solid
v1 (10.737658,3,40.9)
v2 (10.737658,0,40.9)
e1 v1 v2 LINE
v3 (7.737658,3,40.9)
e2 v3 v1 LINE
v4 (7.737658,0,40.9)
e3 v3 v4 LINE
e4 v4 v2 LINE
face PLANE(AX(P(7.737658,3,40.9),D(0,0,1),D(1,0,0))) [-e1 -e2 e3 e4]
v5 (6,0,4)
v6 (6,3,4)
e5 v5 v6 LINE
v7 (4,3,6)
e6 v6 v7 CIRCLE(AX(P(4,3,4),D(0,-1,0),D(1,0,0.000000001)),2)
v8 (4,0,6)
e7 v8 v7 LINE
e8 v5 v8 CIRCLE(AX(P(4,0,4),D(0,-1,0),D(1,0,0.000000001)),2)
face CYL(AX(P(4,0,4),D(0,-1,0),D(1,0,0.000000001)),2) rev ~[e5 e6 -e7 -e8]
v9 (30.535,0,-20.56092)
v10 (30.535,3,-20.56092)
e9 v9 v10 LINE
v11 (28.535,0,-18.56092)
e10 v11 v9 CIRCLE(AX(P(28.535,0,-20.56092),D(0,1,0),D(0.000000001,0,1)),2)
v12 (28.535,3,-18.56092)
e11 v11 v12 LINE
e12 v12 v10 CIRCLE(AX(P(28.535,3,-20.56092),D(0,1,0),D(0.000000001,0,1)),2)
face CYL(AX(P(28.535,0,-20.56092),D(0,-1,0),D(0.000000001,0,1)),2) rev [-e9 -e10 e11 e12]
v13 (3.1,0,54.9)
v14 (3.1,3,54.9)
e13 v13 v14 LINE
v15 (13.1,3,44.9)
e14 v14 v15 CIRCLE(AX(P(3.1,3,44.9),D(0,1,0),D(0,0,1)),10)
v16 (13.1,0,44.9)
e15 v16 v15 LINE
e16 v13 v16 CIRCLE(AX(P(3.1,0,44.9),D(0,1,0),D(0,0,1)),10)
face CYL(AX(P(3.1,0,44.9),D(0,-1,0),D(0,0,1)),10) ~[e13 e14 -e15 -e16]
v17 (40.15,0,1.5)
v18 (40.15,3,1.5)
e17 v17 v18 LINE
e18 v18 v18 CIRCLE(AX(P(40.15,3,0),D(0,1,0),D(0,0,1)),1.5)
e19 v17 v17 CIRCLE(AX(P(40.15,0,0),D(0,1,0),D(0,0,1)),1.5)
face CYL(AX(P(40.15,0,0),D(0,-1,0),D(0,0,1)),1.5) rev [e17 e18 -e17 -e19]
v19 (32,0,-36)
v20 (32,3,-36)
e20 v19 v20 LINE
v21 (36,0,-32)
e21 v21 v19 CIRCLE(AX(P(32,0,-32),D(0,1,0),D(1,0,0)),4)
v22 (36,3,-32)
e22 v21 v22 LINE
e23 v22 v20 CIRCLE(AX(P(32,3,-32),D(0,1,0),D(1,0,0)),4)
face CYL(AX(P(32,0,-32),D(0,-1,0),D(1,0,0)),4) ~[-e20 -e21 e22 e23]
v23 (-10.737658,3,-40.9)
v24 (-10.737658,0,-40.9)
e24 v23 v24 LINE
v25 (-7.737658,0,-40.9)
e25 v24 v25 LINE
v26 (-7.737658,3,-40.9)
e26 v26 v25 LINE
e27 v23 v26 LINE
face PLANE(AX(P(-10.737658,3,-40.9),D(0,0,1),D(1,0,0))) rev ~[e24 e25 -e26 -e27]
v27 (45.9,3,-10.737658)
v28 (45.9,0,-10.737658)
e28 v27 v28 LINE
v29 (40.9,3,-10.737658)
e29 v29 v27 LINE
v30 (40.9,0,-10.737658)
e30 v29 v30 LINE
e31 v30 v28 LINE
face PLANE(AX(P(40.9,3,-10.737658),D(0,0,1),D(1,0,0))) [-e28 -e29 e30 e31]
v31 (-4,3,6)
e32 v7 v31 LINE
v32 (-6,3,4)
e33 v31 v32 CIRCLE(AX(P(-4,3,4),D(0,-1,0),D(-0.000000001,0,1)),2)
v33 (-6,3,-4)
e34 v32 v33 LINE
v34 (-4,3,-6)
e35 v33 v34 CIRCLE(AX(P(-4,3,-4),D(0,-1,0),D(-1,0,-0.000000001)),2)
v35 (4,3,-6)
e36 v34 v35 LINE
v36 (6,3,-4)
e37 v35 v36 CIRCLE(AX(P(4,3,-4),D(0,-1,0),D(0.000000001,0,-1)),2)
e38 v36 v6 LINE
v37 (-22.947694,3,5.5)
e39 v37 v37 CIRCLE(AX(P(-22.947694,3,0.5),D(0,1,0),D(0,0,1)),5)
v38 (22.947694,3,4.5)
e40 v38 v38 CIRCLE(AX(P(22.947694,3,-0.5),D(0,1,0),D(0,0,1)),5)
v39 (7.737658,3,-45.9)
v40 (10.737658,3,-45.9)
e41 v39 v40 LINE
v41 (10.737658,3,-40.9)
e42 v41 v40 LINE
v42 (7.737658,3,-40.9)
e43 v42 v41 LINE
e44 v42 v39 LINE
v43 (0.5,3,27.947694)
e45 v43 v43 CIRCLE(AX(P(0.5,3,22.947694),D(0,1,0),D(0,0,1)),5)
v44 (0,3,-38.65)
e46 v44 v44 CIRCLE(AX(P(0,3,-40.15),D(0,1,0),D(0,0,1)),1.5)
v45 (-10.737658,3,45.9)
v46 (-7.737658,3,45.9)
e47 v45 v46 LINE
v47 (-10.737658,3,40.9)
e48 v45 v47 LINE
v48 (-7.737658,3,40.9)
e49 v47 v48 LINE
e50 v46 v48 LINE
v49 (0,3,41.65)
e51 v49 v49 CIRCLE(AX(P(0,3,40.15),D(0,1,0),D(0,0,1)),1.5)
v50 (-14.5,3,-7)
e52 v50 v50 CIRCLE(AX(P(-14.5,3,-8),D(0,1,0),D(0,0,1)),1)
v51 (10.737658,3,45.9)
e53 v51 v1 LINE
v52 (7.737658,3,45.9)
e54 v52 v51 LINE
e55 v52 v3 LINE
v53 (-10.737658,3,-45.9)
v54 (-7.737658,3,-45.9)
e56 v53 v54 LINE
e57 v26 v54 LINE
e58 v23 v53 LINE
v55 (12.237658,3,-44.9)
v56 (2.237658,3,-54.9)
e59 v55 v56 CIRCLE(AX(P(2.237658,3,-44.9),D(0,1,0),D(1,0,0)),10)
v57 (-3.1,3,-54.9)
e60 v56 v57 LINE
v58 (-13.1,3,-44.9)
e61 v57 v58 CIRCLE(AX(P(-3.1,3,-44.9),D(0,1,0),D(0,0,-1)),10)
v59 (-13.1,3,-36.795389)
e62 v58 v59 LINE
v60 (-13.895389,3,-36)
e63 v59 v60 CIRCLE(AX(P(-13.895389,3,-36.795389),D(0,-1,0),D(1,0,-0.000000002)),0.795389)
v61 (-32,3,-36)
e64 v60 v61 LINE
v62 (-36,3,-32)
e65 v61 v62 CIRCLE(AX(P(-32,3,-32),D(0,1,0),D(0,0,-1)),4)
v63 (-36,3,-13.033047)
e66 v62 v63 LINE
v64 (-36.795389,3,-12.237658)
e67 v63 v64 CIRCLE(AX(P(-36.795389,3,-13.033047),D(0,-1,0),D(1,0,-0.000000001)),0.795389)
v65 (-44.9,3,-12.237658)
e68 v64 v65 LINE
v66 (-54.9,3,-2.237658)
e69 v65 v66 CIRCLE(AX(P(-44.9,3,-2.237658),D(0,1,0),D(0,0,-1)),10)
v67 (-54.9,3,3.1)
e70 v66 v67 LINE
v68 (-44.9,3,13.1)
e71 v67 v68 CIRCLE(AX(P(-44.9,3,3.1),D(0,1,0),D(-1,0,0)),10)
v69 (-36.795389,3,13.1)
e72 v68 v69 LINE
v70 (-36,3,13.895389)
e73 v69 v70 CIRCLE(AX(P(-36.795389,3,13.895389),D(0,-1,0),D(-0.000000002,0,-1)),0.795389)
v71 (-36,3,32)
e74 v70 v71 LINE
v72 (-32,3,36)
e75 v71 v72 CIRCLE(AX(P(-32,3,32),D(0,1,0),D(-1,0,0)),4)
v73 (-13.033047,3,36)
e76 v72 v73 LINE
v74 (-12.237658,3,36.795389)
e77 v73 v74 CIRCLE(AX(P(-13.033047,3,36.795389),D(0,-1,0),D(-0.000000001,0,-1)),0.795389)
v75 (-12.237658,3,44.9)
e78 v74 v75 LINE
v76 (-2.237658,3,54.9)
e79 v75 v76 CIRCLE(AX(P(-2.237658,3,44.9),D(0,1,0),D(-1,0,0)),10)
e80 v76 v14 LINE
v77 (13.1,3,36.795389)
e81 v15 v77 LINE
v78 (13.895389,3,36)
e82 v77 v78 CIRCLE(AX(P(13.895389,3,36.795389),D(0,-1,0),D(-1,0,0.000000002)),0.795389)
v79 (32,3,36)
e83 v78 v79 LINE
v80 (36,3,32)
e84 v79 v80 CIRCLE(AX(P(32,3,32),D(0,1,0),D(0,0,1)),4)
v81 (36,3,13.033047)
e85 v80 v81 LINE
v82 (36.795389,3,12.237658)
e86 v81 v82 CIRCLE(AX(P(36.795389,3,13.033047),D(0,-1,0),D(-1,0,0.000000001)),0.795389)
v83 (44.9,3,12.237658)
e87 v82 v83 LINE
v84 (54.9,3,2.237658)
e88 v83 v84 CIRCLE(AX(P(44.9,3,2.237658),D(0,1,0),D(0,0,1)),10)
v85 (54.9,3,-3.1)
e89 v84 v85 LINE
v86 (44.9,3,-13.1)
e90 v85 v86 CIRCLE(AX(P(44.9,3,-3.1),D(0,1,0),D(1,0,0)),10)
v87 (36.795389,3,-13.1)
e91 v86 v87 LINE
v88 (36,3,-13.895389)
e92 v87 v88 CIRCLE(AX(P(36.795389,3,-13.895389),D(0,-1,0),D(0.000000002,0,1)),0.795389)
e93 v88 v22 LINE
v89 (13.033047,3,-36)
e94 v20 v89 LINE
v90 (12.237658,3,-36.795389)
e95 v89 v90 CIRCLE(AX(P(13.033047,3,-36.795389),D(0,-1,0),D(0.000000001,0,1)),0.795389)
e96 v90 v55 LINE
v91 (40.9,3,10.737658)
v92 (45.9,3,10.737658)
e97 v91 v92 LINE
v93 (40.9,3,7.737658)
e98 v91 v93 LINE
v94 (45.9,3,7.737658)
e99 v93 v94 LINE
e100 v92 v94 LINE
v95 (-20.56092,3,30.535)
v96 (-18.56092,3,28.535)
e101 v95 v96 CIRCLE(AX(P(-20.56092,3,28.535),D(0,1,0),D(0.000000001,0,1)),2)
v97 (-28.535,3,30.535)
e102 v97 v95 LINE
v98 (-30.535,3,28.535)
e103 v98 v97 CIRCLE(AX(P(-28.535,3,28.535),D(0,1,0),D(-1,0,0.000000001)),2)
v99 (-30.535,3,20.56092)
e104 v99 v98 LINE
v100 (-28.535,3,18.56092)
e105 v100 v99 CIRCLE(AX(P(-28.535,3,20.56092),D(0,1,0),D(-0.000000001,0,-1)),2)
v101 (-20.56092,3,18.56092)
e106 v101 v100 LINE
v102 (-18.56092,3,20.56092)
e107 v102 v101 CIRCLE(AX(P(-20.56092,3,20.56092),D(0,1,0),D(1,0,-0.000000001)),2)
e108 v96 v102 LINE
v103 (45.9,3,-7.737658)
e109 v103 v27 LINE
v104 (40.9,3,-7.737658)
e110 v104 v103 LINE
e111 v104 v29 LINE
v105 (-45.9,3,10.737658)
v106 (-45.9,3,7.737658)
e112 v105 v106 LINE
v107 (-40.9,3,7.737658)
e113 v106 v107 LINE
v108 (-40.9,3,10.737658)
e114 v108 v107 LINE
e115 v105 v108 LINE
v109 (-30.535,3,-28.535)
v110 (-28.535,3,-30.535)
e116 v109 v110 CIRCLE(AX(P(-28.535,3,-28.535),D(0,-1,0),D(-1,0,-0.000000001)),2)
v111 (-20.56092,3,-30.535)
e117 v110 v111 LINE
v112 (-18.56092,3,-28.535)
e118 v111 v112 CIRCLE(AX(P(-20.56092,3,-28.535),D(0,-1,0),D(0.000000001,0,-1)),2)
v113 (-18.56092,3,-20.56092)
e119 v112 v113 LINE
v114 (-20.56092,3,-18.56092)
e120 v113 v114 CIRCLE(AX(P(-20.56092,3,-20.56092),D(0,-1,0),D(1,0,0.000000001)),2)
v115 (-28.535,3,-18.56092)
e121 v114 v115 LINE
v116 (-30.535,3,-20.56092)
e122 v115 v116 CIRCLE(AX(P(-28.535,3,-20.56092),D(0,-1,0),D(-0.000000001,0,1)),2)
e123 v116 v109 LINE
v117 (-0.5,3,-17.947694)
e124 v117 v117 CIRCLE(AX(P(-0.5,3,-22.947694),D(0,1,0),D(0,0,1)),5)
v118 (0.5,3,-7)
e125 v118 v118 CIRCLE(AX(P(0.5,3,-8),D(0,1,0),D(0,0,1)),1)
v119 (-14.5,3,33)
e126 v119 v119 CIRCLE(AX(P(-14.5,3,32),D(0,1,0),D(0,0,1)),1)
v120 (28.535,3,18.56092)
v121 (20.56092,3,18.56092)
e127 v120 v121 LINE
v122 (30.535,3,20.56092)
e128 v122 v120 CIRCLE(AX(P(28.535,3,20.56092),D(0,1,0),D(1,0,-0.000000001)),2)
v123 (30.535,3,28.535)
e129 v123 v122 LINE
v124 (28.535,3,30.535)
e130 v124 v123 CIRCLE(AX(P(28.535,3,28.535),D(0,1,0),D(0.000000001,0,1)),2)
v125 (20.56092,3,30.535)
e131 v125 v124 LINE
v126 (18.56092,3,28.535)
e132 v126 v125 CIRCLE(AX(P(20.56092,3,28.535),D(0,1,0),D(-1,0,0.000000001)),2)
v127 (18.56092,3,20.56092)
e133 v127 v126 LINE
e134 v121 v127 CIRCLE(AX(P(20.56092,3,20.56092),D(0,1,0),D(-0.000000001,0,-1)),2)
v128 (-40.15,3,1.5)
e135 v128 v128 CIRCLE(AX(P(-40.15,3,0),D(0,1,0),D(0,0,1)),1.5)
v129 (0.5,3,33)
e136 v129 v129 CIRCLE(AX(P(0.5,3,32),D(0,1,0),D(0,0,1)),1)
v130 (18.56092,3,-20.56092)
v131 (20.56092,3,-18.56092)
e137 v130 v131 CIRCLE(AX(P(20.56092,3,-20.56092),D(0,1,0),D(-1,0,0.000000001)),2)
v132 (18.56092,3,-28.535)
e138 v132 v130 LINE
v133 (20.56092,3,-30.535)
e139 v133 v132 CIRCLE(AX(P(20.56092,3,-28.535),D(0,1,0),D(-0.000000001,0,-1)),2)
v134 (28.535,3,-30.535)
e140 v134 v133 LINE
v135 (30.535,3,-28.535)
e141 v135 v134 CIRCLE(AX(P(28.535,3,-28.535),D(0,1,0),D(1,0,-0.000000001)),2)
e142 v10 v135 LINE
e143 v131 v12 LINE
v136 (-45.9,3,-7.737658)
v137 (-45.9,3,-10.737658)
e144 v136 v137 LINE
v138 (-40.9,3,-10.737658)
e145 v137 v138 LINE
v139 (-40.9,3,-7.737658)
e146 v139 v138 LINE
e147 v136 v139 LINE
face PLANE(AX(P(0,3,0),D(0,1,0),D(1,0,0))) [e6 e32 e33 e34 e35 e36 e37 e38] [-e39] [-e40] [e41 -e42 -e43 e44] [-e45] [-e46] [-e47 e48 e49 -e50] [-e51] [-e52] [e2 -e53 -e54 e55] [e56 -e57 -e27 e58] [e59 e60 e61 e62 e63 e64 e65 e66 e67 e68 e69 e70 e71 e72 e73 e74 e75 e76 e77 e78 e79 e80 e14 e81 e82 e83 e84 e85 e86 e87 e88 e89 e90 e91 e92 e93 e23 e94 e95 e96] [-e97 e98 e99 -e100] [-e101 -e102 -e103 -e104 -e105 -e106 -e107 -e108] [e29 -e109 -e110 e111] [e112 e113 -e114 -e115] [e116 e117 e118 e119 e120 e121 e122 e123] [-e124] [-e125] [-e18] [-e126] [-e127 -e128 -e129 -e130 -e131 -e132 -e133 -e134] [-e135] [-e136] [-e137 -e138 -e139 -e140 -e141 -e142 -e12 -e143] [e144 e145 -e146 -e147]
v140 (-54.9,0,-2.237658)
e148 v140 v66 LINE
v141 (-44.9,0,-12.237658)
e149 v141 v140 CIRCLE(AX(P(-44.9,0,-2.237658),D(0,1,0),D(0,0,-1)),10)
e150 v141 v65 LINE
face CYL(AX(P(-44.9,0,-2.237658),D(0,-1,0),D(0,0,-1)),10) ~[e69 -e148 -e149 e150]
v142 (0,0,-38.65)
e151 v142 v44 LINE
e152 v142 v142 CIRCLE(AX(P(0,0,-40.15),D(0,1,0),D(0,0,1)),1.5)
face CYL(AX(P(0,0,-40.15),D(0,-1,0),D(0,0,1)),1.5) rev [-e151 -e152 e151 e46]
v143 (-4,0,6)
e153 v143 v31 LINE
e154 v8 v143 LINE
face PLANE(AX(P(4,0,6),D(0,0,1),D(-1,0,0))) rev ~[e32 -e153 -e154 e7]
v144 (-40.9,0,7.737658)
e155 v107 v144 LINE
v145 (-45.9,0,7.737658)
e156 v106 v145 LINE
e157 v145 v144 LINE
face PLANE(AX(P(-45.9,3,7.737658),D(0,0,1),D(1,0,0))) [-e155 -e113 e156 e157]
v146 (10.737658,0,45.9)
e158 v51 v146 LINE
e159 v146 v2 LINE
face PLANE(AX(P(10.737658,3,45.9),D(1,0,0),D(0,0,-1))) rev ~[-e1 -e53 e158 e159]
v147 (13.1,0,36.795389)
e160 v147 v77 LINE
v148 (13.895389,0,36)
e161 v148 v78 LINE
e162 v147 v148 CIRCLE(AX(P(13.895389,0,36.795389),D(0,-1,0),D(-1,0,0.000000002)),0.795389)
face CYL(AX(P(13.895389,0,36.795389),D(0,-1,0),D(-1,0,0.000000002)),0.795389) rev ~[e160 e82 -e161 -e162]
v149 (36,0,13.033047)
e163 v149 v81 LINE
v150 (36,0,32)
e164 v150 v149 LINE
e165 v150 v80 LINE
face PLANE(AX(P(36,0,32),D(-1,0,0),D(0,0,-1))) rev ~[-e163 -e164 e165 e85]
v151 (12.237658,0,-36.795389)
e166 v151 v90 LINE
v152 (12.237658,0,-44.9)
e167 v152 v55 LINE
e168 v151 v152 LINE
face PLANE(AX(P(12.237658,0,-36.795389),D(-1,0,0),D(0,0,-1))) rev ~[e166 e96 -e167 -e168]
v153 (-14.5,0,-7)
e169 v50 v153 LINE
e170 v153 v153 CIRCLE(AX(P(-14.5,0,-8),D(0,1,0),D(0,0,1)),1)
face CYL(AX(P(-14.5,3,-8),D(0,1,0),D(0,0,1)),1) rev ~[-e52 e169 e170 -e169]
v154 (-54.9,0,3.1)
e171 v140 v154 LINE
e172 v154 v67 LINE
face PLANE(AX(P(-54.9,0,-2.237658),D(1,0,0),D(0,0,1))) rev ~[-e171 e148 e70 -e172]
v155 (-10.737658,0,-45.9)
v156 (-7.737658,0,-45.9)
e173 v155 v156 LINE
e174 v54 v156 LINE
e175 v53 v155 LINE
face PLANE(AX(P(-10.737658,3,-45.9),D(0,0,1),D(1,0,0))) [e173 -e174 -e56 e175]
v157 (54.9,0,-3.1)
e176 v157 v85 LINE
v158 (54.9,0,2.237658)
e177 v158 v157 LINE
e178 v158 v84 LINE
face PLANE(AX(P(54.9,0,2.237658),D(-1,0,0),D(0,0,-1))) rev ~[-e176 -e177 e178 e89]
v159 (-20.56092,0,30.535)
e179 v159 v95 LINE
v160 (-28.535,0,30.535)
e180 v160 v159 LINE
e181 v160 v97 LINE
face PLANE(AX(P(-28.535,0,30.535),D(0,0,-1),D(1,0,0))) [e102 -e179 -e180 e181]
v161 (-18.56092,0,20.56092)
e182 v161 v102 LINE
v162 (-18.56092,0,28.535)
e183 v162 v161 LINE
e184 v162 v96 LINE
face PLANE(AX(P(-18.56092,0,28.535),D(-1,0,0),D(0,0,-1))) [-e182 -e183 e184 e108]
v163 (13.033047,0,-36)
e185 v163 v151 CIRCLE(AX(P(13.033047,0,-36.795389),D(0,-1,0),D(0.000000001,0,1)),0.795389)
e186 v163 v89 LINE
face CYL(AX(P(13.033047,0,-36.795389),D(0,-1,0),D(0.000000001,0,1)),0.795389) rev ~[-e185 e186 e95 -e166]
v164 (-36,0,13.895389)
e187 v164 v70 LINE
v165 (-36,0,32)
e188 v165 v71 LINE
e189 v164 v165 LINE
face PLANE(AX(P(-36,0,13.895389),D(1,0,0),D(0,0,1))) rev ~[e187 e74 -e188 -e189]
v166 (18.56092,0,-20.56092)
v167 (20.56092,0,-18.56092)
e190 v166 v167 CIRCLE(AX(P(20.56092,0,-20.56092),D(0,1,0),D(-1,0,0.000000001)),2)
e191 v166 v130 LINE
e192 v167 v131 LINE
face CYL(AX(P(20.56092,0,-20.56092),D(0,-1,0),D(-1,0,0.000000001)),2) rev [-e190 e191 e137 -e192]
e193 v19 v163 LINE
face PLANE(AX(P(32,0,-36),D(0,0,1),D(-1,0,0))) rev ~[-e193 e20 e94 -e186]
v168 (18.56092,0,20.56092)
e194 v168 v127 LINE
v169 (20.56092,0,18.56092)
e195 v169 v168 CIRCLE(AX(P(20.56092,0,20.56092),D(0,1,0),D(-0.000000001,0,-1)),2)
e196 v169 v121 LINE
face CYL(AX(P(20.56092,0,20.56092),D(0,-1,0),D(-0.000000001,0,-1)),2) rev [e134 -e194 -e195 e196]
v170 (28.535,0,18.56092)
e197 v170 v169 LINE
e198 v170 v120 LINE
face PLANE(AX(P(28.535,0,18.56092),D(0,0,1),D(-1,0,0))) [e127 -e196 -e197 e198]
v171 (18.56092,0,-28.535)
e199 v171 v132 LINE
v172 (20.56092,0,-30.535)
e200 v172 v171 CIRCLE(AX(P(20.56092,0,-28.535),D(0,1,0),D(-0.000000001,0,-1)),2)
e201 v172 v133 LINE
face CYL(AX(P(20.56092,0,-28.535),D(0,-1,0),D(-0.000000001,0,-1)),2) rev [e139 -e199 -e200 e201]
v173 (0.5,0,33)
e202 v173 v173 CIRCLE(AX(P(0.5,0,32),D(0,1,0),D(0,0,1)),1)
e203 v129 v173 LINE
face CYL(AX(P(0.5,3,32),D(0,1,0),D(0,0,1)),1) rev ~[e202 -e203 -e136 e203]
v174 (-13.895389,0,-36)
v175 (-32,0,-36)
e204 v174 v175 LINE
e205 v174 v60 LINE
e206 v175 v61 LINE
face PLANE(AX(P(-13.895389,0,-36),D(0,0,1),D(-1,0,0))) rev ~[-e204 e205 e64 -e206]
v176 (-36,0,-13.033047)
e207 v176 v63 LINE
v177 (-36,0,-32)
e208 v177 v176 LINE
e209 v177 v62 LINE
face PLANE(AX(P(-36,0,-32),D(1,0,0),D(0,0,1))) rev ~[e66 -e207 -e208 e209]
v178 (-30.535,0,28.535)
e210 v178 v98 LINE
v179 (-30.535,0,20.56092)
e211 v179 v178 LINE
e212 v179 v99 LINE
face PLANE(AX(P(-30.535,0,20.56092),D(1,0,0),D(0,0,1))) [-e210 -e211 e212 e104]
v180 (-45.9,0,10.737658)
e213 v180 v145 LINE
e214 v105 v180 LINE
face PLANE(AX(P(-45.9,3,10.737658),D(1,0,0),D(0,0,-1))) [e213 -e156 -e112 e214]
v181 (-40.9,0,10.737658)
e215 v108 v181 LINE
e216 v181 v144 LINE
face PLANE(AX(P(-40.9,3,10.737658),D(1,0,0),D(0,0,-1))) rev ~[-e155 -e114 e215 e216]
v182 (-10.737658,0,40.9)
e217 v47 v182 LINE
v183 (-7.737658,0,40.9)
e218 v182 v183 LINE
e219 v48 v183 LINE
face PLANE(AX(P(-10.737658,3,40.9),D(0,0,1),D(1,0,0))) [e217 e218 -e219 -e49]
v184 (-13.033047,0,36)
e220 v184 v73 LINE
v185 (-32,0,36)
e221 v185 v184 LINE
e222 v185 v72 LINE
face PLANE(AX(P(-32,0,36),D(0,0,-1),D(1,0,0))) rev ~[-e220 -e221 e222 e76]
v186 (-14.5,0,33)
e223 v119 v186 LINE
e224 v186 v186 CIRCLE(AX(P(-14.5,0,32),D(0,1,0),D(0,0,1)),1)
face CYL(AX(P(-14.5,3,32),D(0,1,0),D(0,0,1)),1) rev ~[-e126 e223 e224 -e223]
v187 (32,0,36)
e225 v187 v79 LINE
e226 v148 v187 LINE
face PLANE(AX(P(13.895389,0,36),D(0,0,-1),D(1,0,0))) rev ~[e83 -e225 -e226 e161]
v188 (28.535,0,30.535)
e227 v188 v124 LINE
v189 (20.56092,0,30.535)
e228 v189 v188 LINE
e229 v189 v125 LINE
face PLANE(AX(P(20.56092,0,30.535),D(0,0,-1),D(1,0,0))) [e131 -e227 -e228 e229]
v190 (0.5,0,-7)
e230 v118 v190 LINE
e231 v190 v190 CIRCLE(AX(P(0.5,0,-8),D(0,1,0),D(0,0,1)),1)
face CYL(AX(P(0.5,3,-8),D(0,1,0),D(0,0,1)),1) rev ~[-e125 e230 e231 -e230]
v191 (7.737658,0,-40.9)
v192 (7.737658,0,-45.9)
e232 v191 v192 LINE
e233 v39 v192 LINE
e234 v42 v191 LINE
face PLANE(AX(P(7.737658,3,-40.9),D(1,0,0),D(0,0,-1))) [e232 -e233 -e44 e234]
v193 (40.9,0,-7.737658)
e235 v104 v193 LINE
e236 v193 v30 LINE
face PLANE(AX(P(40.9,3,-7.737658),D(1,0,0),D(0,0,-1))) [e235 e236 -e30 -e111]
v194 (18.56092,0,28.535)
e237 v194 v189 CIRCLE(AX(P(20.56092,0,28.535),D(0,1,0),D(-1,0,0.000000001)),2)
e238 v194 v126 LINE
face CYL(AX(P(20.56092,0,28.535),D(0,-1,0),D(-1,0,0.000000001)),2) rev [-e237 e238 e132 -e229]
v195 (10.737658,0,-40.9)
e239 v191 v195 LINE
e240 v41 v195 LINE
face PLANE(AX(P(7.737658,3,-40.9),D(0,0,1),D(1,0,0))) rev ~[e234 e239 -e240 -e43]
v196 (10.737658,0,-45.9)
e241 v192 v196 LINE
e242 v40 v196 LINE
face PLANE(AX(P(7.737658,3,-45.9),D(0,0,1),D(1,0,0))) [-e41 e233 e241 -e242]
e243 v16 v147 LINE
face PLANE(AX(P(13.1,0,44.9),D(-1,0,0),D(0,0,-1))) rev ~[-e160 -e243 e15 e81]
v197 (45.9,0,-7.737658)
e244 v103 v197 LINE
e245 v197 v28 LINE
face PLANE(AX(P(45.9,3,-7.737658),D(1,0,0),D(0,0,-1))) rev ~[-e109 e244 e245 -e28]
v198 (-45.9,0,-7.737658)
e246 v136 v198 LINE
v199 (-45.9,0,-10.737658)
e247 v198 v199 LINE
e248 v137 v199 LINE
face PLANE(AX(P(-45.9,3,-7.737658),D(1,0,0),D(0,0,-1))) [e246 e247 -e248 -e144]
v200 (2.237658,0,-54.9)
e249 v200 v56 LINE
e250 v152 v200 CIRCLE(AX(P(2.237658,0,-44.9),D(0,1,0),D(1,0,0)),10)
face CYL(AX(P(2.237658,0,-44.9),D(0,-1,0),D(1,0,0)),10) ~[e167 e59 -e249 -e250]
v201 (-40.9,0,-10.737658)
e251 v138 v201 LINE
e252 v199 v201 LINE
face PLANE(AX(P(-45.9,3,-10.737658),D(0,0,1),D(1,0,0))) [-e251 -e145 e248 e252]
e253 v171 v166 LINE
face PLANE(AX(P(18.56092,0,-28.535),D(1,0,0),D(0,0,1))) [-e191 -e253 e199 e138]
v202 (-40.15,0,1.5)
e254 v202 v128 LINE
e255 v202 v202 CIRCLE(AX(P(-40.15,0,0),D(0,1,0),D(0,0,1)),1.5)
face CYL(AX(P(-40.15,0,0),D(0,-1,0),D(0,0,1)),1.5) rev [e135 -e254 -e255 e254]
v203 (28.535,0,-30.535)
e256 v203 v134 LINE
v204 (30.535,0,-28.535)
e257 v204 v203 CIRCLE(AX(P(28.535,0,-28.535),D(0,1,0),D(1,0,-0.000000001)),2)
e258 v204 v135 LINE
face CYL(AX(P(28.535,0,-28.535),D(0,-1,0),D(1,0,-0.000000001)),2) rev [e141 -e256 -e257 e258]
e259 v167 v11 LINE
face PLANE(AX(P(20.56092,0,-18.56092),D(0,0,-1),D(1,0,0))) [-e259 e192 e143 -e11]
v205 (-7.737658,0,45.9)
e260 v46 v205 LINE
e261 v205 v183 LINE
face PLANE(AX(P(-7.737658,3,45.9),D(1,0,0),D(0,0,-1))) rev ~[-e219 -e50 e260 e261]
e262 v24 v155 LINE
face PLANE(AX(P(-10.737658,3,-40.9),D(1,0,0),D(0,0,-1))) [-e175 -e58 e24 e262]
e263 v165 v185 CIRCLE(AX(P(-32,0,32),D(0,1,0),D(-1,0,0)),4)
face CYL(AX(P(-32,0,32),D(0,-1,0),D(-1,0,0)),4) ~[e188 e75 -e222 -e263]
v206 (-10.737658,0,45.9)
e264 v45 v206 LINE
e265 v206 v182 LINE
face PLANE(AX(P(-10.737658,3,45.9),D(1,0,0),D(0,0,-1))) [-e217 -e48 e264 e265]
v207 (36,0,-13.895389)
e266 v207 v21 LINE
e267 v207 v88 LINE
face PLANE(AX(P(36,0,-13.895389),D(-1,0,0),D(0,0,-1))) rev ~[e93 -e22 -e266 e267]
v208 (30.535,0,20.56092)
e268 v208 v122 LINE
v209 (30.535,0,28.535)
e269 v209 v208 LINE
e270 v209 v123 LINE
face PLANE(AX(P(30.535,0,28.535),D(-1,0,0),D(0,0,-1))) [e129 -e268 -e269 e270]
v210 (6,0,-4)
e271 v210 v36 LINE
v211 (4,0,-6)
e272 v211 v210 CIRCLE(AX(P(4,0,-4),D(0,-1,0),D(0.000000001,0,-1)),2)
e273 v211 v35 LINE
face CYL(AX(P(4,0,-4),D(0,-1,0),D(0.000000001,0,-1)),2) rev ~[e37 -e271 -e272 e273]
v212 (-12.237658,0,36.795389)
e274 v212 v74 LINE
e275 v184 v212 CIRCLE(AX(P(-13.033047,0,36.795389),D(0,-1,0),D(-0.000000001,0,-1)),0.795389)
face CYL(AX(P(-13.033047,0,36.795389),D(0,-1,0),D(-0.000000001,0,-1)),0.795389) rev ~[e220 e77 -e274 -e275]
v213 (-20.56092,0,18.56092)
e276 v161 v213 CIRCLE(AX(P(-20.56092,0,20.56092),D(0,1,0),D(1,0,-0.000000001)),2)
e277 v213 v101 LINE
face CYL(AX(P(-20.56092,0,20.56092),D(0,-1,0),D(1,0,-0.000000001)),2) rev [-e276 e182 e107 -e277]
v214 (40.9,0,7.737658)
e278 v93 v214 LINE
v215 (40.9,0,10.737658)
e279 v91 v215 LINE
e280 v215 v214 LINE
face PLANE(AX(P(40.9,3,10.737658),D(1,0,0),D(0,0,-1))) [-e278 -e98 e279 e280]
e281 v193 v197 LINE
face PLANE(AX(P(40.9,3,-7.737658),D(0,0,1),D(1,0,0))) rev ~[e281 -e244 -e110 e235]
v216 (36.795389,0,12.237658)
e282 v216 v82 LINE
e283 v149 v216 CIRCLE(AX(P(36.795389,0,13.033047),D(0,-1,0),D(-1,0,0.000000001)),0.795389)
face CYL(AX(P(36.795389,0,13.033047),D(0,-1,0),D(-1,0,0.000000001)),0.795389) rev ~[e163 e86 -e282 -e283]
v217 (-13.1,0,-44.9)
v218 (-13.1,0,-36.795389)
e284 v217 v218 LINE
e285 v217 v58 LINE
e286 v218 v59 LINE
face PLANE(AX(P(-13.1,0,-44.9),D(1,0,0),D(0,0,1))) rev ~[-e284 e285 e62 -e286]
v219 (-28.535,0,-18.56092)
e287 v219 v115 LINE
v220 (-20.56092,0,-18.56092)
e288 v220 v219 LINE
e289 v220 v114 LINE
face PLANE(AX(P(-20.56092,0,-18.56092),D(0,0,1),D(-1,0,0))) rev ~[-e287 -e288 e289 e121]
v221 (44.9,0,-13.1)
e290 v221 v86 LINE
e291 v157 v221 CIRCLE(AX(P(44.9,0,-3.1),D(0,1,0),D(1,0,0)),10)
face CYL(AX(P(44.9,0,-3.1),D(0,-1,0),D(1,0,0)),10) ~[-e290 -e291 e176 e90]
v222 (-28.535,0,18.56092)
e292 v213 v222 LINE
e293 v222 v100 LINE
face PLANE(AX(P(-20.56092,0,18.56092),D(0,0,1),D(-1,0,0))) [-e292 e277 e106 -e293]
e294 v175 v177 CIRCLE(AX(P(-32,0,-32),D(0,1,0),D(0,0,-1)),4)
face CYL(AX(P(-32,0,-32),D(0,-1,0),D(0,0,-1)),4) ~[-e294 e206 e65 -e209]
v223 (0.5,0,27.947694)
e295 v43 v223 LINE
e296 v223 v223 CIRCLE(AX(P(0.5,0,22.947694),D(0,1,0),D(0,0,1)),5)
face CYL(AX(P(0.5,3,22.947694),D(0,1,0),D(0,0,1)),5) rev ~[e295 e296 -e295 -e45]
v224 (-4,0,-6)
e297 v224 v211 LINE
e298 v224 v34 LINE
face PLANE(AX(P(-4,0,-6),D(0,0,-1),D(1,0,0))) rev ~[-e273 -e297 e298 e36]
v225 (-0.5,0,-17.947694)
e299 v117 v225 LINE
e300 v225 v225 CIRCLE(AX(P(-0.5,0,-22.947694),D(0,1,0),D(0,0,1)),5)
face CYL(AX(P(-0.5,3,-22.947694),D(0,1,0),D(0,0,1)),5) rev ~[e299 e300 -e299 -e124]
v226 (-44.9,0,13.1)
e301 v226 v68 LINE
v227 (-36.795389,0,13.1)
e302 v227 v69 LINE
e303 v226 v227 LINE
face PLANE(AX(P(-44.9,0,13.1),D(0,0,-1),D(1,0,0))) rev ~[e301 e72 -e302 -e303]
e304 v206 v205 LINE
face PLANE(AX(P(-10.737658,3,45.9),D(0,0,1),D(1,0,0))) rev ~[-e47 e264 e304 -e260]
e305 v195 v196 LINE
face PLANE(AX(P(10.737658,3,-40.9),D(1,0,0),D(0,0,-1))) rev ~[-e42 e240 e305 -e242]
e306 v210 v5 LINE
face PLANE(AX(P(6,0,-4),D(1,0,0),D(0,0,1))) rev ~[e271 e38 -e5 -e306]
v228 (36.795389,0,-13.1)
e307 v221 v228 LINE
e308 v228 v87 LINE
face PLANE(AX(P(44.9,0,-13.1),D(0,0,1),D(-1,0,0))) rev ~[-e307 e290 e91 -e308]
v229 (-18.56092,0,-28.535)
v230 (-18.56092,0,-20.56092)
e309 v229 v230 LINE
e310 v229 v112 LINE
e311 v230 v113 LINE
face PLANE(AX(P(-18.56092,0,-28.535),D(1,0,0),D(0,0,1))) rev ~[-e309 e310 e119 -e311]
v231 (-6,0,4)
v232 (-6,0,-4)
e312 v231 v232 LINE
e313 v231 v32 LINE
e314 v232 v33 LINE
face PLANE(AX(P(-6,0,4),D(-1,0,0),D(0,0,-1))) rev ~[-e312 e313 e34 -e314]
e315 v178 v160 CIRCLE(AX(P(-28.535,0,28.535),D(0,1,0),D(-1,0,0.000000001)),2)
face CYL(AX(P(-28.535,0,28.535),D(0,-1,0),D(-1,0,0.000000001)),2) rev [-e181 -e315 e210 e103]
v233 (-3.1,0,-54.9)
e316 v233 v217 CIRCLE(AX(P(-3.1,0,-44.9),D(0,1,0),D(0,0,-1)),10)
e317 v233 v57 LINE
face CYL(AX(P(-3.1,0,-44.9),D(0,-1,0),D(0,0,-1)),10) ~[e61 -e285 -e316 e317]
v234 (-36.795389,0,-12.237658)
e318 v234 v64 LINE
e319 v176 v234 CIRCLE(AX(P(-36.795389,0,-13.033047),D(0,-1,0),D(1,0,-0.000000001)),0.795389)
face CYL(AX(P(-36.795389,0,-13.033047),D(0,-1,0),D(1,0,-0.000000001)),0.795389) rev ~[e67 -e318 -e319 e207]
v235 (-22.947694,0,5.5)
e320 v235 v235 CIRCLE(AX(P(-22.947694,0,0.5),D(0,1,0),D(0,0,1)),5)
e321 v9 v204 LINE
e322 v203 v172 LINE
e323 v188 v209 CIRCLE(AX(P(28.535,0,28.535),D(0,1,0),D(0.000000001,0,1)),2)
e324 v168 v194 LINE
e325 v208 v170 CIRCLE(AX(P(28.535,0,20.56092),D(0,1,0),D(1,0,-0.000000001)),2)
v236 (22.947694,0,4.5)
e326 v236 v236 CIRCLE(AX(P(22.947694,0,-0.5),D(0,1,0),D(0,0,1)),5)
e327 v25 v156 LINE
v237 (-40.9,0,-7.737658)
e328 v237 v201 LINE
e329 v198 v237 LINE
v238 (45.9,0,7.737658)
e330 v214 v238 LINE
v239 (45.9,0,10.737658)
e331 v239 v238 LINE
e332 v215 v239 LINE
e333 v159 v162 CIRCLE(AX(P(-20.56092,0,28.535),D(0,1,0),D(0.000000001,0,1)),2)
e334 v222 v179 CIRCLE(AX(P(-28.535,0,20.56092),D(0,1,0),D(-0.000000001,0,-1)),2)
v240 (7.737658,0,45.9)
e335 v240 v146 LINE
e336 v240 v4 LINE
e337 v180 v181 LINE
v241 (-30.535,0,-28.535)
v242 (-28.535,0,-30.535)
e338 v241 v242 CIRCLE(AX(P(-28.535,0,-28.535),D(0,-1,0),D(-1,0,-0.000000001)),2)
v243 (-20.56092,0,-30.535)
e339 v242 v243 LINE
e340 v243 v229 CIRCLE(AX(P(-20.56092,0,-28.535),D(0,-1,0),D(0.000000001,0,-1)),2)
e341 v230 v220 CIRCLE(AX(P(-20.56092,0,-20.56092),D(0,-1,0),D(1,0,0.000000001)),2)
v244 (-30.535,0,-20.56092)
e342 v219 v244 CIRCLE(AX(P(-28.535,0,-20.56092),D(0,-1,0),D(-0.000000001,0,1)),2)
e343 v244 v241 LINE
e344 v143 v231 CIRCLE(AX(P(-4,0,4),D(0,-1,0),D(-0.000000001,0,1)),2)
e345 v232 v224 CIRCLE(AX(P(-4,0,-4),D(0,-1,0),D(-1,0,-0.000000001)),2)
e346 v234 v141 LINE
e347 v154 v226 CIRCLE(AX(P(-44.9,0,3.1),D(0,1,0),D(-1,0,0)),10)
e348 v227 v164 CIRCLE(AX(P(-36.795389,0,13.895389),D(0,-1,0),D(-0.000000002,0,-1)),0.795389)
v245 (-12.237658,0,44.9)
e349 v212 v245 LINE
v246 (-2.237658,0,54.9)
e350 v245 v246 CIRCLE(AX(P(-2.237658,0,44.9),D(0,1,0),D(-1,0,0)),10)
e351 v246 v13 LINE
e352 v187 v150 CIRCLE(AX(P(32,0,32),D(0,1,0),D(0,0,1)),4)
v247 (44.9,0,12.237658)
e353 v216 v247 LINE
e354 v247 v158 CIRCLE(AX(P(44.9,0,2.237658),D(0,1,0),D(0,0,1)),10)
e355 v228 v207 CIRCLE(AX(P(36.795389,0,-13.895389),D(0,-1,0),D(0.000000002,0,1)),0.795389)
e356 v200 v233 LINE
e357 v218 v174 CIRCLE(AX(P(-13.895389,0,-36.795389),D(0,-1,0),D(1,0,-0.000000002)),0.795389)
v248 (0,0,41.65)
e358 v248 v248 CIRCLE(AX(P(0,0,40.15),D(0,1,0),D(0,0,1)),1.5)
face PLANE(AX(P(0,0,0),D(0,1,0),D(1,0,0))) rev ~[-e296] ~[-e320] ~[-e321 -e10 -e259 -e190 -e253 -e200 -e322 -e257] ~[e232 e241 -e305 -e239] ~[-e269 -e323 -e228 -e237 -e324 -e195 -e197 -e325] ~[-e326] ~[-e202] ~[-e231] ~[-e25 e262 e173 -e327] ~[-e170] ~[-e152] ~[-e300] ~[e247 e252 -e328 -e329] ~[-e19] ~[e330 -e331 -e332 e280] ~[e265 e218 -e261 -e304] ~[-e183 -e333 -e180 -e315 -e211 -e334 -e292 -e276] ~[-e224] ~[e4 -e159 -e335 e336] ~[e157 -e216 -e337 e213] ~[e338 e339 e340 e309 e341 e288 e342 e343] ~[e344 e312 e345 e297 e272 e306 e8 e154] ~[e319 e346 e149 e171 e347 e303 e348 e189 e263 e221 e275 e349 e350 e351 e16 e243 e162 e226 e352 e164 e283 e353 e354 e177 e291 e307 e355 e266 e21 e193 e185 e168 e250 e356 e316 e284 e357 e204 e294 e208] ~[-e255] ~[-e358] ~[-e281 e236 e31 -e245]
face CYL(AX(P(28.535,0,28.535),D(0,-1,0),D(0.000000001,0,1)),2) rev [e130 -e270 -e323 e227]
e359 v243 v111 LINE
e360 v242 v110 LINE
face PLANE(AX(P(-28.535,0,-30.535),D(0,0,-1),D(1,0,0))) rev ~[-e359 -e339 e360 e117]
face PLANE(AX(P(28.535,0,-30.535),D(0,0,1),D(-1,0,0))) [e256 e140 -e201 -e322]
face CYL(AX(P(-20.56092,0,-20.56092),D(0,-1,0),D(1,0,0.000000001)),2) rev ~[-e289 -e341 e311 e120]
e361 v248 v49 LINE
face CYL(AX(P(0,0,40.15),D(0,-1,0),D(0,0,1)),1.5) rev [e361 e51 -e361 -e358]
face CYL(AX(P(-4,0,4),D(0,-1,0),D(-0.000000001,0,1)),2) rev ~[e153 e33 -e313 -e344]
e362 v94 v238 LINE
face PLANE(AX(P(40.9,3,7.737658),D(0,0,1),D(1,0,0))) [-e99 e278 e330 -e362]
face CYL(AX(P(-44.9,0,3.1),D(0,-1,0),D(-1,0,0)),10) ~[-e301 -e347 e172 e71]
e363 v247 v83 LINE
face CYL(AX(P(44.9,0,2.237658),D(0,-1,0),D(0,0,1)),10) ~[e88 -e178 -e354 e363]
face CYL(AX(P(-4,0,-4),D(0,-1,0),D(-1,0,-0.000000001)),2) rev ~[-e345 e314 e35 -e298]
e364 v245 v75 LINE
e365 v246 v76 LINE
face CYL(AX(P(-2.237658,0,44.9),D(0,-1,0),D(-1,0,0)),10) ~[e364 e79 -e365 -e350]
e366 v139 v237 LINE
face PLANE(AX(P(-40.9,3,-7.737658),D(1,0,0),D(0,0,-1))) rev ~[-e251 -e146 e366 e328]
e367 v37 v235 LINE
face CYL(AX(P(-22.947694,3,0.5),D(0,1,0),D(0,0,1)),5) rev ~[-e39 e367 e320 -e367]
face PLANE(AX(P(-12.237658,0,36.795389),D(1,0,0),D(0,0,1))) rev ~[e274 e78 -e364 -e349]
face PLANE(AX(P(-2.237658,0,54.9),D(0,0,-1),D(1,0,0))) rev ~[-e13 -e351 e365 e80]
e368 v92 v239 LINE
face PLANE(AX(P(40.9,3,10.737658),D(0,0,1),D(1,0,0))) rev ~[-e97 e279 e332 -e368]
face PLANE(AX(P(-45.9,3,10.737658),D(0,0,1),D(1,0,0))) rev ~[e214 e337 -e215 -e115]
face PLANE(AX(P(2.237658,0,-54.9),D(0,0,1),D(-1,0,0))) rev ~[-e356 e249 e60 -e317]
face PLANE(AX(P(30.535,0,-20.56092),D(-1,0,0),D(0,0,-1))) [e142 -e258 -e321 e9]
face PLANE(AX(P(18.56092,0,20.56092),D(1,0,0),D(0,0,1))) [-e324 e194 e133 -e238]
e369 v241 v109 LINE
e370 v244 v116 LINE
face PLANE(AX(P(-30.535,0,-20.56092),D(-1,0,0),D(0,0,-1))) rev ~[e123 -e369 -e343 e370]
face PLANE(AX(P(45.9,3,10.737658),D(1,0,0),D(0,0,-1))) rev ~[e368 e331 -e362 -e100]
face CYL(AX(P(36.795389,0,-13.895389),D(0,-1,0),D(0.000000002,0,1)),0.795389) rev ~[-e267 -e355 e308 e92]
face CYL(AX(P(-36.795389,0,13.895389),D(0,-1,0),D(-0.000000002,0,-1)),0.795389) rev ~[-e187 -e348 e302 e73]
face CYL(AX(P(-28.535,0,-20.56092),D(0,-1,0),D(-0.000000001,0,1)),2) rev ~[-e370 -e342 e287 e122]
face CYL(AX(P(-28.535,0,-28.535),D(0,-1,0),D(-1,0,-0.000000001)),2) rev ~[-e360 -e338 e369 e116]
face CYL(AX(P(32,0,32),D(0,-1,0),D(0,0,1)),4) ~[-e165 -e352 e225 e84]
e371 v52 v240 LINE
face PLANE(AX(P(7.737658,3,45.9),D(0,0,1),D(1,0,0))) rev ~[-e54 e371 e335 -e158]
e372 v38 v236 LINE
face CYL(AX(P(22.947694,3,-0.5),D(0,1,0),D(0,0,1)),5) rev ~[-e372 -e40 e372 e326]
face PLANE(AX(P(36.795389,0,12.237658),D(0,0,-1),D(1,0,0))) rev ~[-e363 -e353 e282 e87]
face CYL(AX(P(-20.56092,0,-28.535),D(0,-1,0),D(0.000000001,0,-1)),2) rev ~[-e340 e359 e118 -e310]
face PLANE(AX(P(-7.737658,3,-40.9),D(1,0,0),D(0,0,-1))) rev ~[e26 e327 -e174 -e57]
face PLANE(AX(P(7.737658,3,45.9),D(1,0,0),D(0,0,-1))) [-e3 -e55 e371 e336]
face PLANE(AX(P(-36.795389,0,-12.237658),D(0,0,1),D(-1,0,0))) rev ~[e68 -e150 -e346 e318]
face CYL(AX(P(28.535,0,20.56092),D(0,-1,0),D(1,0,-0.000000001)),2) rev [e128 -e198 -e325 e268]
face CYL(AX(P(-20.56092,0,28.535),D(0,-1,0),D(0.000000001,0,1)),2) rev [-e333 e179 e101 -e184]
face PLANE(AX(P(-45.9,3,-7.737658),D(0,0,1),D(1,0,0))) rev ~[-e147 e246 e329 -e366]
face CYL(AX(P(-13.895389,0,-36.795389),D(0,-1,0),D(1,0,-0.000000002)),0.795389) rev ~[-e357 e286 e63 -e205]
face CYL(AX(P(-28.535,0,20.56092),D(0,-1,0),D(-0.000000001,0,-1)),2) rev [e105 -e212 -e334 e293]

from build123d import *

# Parameters (mm, degrees)
SKETCH1_R           = 1.5
BOSS_EXTRUDE1_DEPTH = 3
SKETCH2_R           = 1
SKETCH2_R_2         = 5
CUT_EXTRUDE1_DEPTH  = 3
SKETCH3_W           = 5
SKETCH3_H           = 3
SKETCH3_W_2         = 3
SKETCH3_H_2         = 5
CUT_EXTRUDE3_DEPTH  = 3


with BuildPart() as part:
    # Sketch1 → Boss-Extrude1 (new body)
    with BuildSketch(Plane(origin=(0, 0, 0), x_dir=(1, 0, 0), z_dir=(0, 1, 0))):
        with BuildLine():
            Line((36.795388519, -12.237658296), (44.9, -12.237658296))
            ThreePointArc((44.9, -12.237658296), (51.971067812, -9.308726108), (54.9, -2.237658296))
            Line((54.9, -2.237658296), (54.9, 3.1))
            ThreePointArc((54.9, 3.1), (51.971067812, 10.171067812), (44.9, 13.1))
            Line((44.9, 13.1), (36.795388519, 13.1))
            ThreePointArc((36.795388519, 13.1), (36.232963903, 13.332963903), (36, 13.895388519))
            Line((36, 13.895388519), (36, 32))
            ThreePointArc((36, 32), (34.828427125, 34.828427125), (32, 36))
            Line((32, 36), (13.033046814, 36))
            ThreePointArc((13.033046814, 36), (12.470622199, 36.232963903), (12.237658296, 36.795388519))
            Line((12.237658296, 36.795388519), (12.237658296, 44.9))
            ThreePointArc((12.237658296, 44.9), (9.308726108, 51.971067812), (2.237658296, 54.9))
            Line((2.237658296, 54.9), (-3.1, 54.9))
            ThreePointArc((-3.1, 54.9), (-10.171067812, 51.971067812), (-13.1, 44.9))
            Line((-13.1, 44.9), (-13.1, 36.795388519))
            ThreePointArc((-13.1, 36.795388519), (-13.332963903, 36.232963903), (-13.895388519, 36))
            Line((-13.895388519, 36), (-32, 36))
            ThreePointArc((-32, 36), (-34.828427125, 34.828427125), (-36, 32))
            Line((-36, 32), (-36, 13.033046814))
            ThreePointArc((-36, 13.033046814), (-36.232963903, 12.470622199), (-36.795388519, 12.237658296))
            Line((-36.795388519, 12.237658296), (-44.9, 12.237658296))
            ThreePointArc((-44.9, 12.237658296), (-51.971067812, 9.308726108), (-54.9, 2.237658296))
            Line((-54.9, 2.237658296), (-54.9, -3.1))
            ThreePointArc((-54.9, -3.1), (-51.971067812, -10.171067812), (-44.9, -13.1))
            Line((-44.9, -13.1), (-36.795388519, -13.1))
            ThreePointArc((-36.795388519, -13.1), (-36.232963903, -13.332963903), (-36, -13.895388519))
            Line((-36, -13.895388519), (-36, -32))
            ThreePointArc((-36, -32), (-34.828427125, -34.828427125), (-32, -36))
            Line((-32, -36), (-13.033046814, -36))
            ThreePointArc((-13.033046814, -36), (-12.470622199, -36.232963903), (-12.237658296, -36.795388519))
            Line((-12.237658296, -36.795388519), (-12.237658296, -44.9))
            ThreePointArc((-12.237658296, -44.9), (-9.308726108, -51.971067812), (-2.237658296, -54.9))
            Line((-2.237658296, -54.9), (3.1, -54.9))
            ThreePointArc((3.1, -54.9), (10.171067812, -51.971067812), (13.1, -44.9))
            Line((13.1, -44.9), (13.1, -36.795388519))
            ThreePointArc((13.1, -36.795388519), (13.332963903, -36.232963903), (13.895388519, -36))
            Line((13.895388519, -36), (32, -36))
            ThreePointArc((32, -36), (34.828427125, -34.828427125), (36, -32))
            Line((36, -32), (36, -13.033046814))
            ThreePointArc((36, -13.033046814), (36.232963903, -12.470622199), (36.795388519, -12.237658296))
        make_face()
        with Locations(Location((40.15, 0, 0), (0, 0, 270))):
            Circle(SKETCH1_R, mode=Mode.SUBTRACT)
        with Locations(Location((0, -40.15, 0), (0, 0, 270))):
            Circle(SKETCH1_R, mode=Mode.SUBTRACT)
        with Locations(Location((-40.15, 0, 0), (0, 0, 270))):
            Circle(SKETCH1_R, mode=Mode.SUBTRACT)
        with Locations(Location((0, 40.15, 0), (0, 0, 270))):
            Circle(SKETCH1_R, mode=Mode.SUBTRACT)
        with BuildLine():
            Line((20.560920379, 18.560920379), (28.535, 18.560920379))
            ThreePointArc((28.535, 18.560920379), (29.949213562, 19.146706817), (30.535, 20.560920379))
            Line((30.535, 20.560920379), (30.535, 28.535))
            ThreePointArc((30.535, 28.535), (29.949213562, 29.949213562), (28.535, 30.535))
            Line((28.535, 30.535), (20.560920379, 30.535))
            ThreePointArc((20.560920379, 30.535), (19.146706817, 29.949213562), (18.560920379, 28.535))
            Line((18.560920379, 28.535), (18.560920379, 20.560920379))
            ThreePointArc((18.560920379, 20.560920379), (19.146706817, 19.146706817), (20.560920379, 18.560920379))
        make_face(mode=Mode.SUBTRACT)
        with BuildLine():
            Line((4, -6), (-4, -6))
            ThreePointArc((-4, -6), (-5.414213562, -5.414213562), (-6, -4))
            Line((-6, -4), (-6, 4))
            ThreePointArc((-6, 4), (-5.414213562, 5.414213562), (-4, 6))
            Line((-4, 6), (4, 6))
            ThreePointArc((4, 6), (5.414213562, 5.414213562), (6, 4))
            Line((6, 4), (6, -4))
            ThreePointArc((6, -4), (5.414213562, -5.414213562), (4, -6))
        make_face(mode=Mode.SUBTRACT)
        with BuildLine():
            Line((-20.560920379, 18.560920379), (-28.535, 18.560920379))
            ThreePointArc((-28.535, 18.560920379), (-29.949213562, 19.146706817), (-30.535, 20.560920379))
            Line((-30.535, 20.560920379), (-30.535, 28.535))
            ThreePointArc((-30.535, 28.535), (-29.949213562, 29.949213562), (-28.535, 30.535))
            Line((-28.535, 30.535), (-20.560920379, 30.535))
            ThreePointArc((-20.560920379, 30.535), (-19.146706817, 29.949213562), (-18.560920379, 28.535))
            Line((-18.560920379, 28.535), (-18.560920379, 20.560920379))
            ThreePointArc((-18.560920379, 20.560920379), (-19.146706817, 19.146706817), (-20.560920379, 18.560920379))
        make_face(mode=Mode.SUBTRACT)
        with BuildLine():
            Line((18.560920379, -20.560920379), (18.560920379, -28.535))
            ThreePointArc((18.560920379, -28.535), (19.146706817, -29.949213562), (20.560920379, -30.535))
            Line((20.560920379, -30.535), (28.535, -30.535))
            ThreePointArc((28.535, -30.535), (29.949213562, -29.949213562), (30.535, -28.535))
            Line((30.535, -28.535), (30.535, -20.560920379))
            ThreePointArc((30.535, -20.560920379), (29.949213562, -19.146706817), (28.535, -18.560920379))
            Line((28.535, -18.560920379), (20.560920379, -18.560920379))
            ThreePointArc((20.560920379, -18.560920379), (19.146706817, -19.146706817), (18.560920379, -20.560920379))
        make_face(mode=Mode.SUBTRACT)
        with BuildLine():
            Line((-20.560920379, -18.560920379), (-28.535, -18.560920379))
            ThreePointArc((-28.535, -18.560920379), (-29.949213562, -19.146706817), (-30.535, -20.560920379))
            Line((-30.535, -20.560920379), (-30.535, -28.535))
            ThreePointArc((-30.535, -28.535), (-29.949213562, -29.949213562), (-28.535, -30.535))
            Line((-28.535, -30.535), (-20.560920379, -30.535))
            ThreePointArc((-20.560920379, -30.535), (-19.146706817, -29.949213562), (-18.560920379, -28.535))
            Line((-18.560920379, -28.535), (-18.560920379, -20.560920379))
            ThreePointArc((-18.560920379, -20.560920379), (-19.146706817, -19.146706817), (-20.560920379, -18.560920379))
        make_face(mode=Mode.SUBTRACT)
    extrude(amount=BOSS_EXTRUDE1_DEPTH)

    # Sketch2 → Cut-Extrude1 (cut)
    with BuildSketch(Plane(origin=(0, 3, 0), x_dir=(1, 0, 0), z_dir=(0, 1, 0))):
        with Locations(Location((-14.5, -32, 0), (0, 0, 270))):
            Circle(SKETCH2_R)
        with Locations(Location((0.5, -32, 0), (0, 0, 270))):
            Circle(SKETCH2_R)
        with Locations(Location((-14.5, 8, 0), (0, 0, 270))):
            Circle(SKETCH2_R)
        with Locations(Location((0.5, 8, 0), (0, 0, 270))):
            Circle(SKETCH2_R)
        with Locations(Location((0.5, -22.947694259, 0), (0, 0, 270))):
            Circle(SKETCH2_R_2)
        with Locations(Location((-22.947694259, -0.5, 0), (0, 0, 270))):
            Circle(SKETCH2_R_2)
        with Locations(Location((-0.5, 22.947694259, 0), (0, 0, 270))):
            Circle(SKETCH2_R_2)
        with Locations(Location((22.947694259, 0.5, 0), (0, 0, 270))):
            Circle(SKETCH2_R_2)
    extrude(amount=-CUT_EXTRUDE1_DEPTH, mode=Mode.SUBTRACT)

    # Sketch3 → Cut-Extrude3 (cut)
    with BuildSketch(Plane(origin=(0, 3, 0), x_dir=(1, 0, 0), z_dir=(0, 1, 0))):
        with Locations((-43.4, 9.237658296)):
            Rectangle(SKETCH3_W, SKETCH3_H)
        with Locations((-43.4, -9.237658296)):
            Rectangle(SKETCH3_W, SKETCH3_H)
        with Locations((9.237658296, 43.4)):
            Rectangle(SKETCH3_W_2, SKETCH3_H_2)
        with Locations((-9.237658296, 43.4)):
            Rectangle(SKETCH3_W_2, SKETCH3_H_2)
        with Locations((43.4, -9.237658296)):
            Rectangle(SKETCH3_W, SKETCH3_H)
        with Locations((43.4, 9.237658296)):
            Rectangle(SKETCH3_W, SKETCH3_H)
        with Locations((-9.237658296, -43.4)):
            Rectangle(SKETCH3_W_2, SKETCH3_H_2)
        with Locations((9.237658296, -43.4)):
            Rectangle(SKETCH3_W_2, SKETCH3_H_2)
    extrude(amount=-CUT_EXTRUDE3_DEPTH, mode=Mode.SUBTRACT)


solid = part.part
